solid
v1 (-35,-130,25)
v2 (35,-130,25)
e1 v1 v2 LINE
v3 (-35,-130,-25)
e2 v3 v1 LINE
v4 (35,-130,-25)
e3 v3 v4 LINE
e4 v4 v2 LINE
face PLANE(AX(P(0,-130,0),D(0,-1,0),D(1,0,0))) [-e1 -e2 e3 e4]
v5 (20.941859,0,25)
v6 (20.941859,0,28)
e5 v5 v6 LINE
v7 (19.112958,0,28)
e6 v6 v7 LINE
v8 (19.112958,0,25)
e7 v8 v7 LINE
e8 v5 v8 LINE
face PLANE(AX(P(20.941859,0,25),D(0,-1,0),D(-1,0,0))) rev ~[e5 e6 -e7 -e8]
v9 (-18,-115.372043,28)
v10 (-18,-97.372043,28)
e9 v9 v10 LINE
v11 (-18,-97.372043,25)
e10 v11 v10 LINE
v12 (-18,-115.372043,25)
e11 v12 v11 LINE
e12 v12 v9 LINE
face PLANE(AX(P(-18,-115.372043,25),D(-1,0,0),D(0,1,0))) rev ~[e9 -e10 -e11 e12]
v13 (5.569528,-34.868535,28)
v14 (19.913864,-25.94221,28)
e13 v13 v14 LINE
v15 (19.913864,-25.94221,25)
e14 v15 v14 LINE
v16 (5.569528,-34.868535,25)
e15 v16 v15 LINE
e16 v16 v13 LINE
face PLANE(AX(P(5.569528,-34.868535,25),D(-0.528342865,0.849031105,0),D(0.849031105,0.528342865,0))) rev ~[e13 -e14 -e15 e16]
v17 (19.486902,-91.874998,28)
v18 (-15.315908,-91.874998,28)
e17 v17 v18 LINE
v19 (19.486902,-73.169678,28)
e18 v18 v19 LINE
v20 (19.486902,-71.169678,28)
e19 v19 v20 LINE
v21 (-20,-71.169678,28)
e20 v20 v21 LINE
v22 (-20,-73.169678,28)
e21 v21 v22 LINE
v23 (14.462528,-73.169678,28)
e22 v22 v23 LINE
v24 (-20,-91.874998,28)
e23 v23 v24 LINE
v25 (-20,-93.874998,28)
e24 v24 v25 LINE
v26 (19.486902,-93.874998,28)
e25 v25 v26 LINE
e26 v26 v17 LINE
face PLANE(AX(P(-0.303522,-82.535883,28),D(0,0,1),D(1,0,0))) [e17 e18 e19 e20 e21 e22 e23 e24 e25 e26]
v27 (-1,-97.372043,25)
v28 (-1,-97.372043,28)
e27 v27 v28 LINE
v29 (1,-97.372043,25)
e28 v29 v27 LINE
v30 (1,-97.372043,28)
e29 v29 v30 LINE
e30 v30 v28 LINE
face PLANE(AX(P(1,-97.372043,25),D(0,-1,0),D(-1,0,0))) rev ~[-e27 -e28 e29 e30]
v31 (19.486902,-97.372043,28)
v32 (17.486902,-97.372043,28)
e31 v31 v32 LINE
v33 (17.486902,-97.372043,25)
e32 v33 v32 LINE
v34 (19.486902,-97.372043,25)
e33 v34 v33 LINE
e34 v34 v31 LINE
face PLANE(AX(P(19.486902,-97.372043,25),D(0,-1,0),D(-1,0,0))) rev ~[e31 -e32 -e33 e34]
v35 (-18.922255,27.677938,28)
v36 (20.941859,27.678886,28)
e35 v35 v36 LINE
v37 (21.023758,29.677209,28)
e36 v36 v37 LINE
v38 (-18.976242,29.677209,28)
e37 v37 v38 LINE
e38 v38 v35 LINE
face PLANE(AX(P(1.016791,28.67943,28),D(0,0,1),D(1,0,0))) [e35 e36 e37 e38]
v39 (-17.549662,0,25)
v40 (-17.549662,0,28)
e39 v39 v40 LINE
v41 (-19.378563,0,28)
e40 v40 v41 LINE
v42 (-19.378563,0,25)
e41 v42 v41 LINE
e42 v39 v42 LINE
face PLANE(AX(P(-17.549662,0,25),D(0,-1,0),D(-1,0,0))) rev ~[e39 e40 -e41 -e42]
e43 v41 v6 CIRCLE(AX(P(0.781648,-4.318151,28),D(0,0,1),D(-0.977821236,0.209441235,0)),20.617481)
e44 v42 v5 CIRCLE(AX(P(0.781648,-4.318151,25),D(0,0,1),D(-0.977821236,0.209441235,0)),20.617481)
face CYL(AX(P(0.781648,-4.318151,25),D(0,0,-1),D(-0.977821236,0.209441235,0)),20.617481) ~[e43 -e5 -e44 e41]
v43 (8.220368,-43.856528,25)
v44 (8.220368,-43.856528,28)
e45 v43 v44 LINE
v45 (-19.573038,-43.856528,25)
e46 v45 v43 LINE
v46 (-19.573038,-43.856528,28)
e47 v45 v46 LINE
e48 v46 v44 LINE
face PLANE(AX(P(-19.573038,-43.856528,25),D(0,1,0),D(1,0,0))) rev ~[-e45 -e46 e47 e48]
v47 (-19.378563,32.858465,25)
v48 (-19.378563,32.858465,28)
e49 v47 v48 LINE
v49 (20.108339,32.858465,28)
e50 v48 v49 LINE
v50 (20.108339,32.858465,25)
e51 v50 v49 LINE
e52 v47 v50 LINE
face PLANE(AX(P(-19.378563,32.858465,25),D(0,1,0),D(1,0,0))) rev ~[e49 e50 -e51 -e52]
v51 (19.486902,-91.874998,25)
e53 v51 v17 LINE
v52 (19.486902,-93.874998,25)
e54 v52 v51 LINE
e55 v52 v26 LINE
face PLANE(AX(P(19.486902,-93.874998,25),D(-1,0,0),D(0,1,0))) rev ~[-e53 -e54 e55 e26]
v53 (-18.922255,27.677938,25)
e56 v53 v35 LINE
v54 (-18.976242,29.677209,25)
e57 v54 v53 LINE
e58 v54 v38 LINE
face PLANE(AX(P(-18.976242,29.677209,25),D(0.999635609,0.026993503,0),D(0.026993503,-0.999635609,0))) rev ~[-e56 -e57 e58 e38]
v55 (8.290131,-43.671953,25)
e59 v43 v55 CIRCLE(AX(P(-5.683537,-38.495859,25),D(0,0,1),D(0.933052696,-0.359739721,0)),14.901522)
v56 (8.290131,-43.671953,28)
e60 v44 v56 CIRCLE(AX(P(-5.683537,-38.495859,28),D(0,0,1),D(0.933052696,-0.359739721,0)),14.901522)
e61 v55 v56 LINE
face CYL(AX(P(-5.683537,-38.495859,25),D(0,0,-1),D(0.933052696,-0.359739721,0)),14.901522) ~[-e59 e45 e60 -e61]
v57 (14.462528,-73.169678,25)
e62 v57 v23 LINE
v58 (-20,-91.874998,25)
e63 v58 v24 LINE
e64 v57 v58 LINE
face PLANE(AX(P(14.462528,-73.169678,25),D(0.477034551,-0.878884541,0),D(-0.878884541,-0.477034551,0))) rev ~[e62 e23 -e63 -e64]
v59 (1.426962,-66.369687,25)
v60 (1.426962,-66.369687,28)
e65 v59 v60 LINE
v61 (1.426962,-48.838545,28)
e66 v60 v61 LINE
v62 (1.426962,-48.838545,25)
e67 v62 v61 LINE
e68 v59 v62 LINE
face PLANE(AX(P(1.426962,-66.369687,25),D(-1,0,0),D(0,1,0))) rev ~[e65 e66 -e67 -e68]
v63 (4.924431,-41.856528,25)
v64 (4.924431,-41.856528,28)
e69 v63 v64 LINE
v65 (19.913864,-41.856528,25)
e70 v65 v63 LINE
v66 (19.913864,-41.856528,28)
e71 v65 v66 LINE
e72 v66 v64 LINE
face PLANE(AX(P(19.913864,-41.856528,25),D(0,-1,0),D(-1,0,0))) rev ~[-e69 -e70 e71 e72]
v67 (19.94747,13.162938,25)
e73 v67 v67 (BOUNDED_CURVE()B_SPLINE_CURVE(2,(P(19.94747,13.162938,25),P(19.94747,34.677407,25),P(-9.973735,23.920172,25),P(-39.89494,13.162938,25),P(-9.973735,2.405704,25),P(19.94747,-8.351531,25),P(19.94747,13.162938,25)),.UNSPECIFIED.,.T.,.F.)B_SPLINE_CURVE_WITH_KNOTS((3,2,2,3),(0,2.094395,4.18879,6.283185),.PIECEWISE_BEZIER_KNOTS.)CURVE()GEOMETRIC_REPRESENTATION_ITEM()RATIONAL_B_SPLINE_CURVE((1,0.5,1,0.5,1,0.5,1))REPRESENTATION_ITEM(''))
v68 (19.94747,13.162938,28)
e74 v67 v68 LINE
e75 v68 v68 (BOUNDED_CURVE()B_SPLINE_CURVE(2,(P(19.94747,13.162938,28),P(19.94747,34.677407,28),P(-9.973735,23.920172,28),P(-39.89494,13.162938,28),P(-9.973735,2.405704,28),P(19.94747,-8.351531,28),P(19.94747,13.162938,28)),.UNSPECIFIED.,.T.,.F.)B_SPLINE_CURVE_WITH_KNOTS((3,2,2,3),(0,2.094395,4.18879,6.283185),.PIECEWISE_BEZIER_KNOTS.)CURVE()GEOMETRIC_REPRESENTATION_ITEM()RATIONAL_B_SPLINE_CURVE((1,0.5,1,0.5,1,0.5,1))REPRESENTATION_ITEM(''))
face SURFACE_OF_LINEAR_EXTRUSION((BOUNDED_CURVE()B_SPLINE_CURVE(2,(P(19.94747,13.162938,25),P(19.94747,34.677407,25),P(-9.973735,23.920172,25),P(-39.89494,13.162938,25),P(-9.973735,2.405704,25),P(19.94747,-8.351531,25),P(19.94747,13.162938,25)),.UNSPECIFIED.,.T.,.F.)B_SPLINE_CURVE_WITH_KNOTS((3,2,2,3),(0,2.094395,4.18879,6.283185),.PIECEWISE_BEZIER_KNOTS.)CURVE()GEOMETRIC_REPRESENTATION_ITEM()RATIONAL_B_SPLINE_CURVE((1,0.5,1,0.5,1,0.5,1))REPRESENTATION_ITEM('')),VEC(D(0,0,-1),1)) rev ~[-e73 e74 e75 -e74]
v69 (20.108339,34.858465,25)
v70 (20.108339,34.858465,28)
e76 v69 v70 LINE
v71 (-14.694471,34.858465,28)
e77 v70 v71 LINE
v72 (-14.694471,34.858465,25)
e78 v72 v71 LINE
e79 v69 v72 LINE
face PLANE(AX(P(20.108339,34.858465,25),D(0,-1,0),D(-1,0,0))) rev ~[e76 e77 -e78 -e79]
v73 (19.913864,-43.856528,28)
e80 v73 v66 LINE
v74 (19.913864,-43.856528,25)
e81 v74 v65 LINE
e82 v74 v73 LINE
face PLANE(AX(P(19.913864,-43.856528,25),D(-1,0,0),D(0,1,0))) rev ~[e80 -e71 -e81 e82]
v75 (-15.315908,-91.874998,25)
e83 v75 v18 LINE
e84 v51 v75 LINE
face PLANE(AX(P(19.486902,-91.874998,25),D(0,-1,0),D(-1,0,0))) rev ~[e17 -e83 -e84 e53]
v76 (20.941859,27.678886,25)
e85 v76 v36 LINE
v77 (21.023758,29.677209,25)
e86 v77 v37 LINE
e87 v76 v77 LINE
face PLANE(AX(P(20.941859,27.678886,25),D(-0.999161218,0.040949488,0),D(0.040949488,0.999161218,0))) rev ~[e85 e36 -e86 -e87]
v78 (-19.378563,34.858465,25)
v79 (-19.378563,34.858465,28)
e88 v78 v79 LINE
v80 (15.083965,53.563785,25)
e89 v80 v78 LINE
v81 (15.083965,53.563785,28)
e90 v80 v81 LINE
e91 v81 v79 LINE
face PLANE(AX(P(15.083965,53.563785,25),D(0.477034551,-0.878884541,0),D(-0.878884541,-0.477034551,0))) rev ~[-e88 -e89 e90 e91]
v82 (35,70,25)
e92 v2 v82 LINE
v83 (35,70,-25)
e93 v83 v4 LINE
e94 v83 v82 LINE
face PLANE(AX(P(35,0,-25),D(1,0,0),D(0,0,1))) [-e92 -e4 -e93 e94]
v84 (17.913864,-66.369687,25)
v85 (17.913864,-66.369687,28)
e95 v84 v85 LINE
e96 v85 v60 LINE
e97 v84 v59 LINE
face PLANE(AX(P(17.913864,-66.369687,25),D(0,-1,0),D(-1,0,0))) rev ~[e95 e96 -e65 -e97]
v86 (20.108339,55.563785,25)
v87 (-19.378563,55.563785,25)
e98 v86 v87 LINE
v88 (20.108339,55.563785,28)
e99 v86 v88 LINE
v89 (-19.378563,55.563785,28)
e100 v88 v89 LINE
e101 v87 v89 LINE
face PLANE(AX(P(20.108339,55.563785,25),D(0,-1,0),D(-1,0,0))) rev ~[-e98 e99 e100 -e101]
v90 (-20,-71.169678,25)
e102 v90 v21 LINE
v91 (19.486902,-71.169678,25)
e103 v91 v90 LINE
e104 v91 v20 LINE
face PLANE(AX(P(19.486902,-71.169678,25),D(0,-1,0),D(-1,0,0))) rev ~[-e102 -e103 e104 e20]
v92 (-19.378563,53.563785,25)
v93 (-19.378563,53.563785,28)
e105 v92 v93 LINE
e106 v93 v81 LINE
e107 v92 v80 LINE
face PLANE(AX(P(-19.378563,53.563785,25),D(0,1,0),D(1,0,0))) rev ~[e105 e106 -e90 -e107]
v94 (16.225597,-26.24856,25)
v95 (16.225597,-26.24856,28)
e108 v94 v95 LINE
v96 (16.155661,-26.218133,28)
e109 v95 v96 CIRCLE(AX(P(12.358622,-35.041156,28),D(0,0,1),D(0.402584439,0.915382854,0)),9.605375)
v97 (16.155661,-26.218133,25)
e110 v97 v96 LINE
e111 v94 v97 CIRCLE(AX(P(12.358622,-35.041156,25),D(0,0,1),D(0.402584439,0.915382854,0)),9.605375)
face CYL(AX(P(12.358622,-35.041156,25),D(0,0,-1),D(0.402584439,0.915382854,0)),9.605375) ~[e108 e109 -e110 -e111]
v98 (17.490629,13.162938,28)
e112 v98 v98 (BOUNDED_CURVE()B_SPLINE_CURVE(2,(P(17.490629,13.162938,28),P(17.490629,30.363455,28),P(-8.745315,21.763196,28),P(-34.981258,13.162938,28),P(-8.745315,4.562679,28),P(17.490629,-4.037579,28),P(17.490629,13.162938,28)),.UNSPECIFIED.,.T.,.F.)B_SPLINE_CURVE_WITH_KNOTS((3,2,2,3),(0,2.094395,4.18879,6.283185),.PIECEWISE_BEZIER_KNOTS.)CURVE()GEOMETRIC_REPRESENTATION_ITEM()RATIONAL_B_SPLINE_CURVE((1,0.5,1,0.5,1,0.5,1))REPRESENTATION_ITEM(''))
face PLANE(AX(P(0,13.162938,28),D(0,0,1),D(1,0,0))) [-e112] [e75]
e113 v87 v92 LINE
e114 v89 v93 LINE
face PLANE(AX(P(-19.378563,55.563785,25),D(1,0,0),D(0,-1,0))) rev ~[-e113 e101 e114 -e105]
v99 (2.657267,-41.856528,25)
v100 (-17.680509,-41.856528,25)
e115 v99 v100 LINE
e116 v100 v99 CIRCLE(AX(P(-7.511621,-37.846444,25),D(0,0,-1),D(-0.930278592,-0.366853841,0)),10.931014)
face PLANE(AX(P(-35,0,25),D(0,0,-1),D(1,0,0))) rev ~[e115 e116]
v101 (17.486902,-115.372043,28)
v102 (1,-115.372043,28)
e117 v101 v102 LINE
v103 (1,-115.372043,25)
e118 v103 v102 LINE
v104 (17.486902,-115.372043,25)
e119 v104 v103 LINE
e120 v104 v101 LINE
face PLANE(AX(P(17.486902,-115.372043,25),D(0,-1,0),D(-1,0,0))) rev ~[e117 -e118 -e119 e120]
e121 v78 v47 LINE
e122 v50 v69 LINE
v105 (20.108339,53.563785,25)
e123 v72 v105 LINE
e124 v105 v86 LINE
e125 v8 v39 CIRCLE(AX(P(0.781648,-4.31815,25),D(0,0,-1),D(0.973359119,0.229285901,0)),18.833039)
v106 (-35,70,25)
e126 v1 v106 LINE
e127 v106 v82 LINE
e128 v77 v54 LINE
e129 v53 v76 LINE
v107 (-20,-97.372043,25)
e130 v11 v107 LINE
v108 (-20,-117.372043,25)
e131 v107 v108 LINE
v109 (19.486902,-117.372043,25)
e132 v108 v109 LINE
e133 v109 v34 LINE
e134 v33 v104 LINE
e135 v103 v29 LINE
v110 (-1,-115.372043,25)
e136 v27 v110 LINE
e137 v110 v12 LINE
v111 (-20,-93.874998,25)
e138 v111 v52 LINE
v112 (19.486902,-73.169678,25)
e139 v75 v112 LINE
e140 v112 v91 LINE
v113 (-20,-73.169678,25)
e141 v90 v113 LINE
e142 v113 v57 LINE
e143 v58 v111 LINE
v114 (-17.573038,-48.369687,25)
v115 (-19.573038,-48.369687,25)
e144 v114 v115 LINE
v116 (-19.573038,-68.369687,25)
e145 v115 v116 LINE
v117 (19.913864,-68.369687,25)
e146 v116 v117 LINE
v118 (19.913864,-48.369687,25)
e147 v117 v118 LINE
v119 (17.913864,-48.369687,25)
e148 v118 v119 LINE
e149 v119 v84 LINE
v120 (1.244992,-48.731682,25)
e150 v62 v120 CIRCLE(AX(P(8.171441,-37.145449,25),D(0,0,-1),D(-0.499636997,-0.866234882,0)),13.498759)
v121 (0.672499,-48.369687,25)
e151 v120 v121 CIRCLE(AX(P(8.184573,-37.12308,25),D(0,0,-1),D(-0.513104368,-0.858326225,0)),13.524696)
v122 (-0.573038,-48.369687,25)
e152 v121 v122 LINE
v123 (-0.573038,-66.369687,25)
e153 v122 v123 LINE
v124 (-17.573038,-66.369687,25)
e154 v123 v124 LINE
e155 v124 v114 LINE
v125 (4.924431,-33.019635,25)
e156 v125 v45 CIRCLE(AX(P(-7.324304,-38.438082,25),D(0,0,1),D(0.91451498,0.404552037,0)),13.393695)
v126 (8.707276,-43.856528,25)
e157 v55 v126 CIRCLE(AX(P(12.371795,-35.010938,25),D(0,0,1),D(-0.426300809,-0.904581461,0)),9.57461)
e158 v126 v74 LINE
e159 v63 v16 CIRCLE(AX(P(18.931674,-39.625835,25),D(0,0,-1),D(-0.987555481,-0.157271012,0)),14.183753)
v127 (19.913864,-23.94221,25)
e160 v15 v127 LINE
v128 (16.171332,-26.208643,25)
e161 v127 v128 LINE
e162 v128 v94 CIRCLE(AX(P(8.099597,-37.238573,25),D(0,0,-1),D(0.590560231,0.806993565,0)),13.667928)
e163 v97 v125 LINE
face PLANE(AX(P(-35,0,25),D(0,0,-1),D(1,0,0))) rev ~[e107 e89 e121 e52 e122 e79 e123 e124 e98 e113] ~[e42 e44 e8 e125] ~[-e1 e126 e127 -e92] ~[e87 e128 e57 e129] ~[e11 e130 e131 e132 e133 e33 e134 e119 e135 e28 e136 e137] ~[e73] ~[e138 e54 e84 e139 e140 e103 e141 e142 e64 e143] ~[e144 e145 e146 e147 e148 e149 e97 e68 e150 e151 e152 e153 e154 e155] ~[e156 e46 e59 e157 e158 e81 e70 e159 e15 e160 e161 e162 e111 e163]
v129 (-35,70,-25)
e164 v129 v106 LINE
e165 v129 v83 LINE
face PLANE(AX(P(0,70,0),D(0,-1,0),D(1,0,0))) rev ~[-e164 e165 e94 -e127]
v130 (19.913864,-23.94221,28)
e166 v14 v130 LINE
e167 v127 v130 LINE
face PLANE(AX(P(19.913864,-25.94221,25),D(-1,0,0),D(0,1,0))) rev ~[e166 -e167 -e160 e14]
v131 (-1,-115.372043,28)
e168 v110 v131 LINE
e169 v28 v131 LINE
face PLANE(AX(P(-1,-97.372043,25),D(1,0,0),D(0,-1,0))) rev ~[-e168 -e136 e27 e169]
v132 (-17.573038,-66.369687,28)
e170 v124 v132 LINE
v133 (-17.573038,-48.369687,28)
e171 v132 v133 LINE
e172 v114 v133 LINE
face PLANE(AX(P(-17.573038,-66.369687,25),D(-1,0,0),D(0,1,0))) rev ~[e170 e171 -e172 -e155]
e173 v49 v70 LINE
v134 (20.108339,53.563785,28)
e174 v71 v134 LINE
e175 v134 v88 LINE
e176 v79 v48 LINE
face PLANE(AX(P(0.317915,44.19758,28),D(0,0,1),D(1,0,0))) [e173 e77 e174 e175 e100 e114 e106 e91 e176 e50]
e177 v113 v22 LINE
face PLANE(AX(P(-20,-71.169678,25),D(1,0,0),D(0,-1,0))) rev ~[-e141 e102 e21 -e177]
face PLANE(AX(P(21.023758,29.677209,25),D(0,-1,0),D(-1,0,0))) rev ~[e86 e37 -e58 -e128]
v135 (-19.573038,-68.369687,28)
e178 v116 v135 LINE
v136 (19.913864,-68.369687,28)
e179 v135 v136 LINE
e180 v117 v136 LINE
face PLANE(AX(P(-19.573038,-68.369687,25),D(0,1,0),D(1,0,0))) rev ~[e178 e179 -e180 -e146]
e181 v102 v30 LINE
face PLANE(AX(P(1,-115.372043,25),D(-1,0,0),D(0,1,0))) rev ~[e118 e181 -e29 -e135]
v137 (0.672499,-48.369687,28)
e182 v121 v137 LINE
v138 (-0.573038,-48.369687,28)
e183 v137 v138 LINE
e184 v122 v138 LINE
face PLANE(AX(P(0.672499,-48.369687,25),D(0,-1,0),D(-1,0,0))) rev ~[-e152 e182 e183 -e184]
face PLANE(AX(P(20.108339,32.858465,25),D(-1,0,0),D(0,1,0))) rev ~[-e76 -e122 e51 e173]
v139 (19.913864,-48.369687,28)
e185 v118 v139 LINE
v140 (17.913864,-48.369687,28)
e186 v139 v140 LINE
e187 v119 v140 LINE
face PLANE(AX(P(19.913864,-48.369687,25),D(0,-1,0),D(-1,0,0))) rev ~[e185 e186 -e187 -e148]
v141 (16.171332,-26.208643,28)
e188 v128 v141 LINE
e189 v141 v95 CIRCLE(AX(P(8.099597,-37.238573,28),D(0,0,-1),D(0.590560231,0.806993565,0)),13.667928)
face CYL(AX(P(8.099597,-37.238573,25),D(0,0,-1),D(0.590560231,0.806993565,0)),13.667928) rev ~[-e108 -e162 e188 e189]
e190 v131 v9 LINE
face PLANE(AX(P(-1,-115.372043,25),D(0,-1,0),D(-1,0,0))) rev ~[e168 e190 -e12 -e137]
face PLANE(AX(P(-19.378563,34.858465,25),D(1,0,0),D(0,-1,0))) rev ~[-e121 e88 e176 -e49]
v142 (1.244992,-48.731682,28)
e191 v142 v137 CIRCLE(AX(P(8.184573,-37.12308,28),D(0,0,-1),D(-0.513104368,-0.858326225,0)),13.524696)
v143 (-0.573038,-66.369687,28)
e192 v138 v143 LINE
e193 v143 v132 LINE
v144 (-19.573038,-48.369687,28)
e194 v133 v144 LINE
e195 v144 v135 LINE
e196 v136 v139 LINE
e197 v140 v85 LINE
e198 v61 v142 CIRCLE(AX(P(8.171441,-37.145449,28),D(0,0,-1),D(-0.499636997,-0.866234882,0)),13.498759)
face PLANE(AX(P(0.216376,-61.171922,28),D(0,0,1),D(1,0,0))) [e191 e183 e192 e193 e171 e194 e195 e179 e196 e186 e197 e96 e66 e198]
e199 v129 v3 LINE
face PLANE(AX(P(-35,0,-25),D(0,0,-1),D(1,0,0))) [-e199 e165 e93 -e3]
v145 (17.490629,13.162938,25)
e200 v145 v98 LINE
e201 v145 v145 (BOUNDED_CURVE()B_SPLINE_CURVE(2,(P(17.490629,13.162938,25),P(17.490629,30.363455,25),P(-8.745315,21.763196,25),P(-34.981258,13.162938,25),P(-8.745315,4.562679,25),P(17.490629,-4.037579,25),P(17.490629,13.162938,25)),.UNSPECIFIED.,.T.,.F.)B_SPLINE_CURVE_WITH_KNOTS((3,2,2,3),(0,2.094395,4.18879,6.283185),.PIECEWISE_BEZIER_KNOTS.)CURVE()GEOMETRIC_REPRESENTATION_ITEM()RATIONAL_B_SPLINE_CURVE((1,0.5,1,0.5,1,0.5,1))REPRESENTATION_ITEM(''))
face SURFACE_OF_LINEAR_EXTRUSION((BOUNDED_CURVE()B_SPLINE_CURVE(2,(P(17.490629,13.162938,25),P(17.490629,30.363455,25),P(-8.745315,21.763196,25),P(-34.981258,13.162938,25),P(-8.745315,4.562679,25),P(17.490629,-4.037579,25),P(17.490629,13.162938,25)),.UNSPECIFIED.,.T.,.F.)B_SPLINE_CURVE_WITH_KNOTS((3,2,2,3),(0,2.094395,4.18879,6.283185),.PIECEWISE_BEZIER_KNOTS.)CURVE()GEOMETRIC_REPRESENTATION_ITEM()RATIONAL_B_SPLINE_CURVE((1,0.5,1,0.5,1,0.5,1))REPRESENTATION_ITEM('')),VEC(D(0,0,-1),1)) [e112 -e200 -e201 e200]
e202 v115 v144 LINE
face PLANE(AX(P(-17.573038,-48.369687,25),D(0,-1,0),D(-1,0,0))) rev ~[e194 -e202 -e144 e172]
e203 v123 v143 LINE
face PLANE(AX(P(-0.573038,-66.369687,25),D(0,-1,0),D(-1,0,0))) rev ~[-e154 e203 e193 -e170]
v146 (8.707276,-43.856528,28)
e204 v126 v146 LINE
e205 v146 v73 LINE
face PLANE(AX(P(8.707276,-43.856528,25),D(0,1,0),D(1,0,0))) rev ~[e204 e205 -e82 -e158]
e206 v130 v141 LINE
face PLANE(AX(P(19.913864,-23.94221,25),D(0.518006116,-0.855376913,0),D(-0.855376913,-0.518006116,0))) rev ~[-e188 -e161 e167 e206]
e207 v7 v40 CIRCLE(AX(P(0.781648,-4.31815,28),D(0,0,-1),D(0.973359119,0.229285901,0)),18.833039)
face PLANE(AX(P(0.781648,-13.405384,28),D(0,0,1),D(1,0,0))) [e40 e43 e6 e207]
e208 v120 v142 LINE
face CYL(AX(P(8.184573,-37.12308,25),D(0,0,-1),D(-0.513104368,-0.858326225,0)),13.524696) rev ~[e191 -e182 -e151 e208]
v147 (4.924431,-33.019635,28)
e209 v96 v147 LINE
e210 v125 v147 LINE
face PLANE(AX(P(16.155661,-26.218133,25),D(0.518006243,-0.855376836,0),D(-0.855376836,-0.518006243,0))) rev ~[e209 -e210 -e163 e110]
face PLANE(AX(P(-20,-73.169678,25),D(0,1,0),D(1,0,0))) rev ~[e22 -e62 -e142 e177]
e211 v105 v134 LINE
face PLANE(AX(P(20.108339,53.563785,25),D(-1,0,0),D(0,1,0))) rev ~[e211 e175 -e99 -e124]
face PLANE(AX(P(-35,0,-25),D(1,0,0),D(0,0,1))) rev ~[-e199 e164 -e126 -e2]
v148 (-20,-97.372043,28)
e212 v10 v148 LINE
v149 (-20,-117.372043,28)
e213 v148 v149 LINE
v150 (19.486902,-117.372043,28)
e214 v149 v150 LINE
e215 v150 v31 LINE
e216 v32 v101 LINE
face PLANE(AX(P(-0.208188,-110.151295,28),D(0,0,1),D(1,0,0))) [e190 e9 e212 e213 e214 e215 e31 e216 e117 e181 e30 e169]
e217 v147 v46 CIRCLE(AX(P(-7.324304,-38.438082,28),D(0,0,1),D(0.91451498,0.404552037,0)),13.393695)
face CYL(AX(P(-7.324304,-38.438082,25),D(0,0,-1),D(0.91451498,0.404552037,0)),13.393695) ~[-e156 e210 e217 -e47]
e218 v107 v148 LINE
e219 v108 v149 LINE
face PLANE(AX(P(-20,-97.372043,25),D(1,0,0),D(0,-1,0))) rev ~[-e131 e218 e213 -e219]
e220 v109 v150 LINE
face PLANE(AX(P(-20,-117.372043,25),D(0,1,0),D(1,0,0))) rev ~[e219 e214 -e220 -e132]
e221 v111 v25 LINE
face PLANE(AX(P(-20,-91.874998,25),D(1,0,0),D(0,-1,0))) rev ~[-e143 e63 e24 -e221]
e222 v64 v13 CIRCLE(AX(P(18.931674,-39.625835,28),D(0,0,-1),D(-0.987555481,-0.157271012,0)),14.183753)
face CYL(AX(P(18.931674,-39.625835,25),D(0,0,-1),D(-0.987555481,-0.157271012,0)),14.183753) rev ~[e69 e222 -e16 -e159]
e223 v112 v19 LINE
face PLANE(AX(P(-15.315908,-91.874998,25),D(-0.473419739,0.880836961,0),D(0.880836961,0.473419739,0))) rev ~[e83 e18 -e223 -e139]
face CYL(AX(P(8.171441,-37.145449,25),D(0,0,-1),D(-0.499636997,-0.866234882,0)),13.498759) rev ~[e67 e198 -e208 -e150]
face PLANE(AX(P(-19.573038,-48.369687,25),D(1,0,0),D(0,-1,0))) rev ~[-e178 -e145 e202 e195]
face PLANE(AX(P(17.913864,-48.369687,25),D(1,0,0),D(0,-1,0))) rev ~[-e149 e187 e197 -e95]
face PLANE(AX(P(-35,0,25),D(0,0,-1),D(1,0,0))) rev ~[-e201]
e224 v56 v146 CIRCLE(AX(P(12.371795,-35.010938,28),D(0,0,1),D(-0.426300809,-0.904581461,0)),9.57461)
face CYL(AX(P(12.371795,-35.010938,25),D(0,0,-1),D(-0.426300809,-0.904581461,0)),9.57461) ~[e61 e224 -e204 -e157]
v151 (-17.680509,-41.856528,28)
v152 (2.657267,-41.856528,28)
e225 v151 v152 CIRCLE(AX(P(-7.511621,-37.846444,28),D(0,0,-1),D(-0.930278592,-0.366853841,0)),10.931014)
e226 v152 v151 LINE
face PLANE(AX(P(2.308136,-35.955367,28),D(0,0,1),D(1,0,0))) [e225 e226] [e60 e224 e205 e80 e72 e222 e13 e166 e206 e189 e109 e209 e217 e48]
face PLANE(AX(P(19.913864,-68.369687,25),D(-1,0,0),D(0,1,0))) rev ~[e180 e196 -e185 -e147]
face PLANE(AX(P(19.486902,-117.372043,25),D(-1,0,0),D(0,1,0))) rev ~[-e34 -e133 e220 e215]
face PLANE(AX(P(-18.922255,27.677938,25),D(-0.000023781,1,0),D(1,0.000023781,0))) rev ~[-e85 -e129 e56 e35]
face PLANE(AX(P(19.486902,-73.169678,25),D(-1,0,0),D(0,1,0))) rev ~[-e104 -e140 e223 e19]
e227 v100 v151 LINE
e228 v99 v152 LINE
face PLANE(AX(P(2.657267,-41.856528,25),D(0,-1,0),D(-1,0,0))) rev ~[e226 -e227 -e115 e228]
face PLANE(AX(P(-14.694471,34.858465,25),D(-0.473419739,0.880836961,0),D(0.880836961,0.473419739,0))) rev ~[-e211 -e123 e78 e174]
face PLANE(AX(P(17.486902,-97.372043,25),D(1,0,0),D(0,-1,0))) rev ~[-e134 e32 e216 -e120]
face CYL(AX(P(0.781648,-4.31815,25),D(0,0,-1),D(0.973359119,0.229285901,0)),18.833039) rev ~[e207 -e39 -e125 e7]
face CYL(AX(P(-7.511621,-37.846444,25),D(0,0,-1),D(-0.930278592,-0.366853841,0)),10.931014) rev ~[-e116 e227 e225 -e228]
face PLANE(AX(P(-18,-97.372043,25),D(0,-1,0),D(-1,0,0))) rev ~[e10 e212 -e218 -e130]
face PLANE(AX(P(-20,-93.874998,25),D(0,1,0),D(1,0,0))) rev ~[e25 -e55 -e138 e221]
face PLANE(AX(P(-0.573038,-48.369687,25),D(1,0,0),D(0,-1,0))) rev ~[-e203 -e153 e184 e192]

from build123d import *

# Parameters (mm, degrees)
F0_W          = 70
F0_H          = 50
F1_DEPTH      = 130
F1_DEPTH_BACK = 70
F3_DEPTH      = 3


with BuildPart() as f1:
    # F0 (on Front) → F1 (new body, two sides)
    with BuildSketch(Plane.XZ) as f1_sk:
        Rectangle(F0_W, F0_H)
    extrude(amount=F1_DEPTH)
    extrude(f1_sk.sketch, amount=-F1_DEPTH_BACK)

    # F2 (on face) → F3 (join)
    with BuildSketch(Plane.XY.offset(25)):
        Polygon((-20, -117.372043), (0, -117.372043), (19.486902, -117.372043), (19.486902, -97.372043), (17.486902, -97.372043), (17.486902, -115.372043), (1, -115.372043), (1, -97.372043), (-1, -97.372043), (-1, -115.372043), (-18, -115.372043), (-18, -97.372043), (-20, -97.372043), align=None)
        with BuildLine():
            Line((8.707276, -43.856528), (19.913864, -43.856528))
            Line((19.913864, -43.856528), (19.913864, -41.856528))
            Line((19.913864, -41.856528), (4.924431, -41.856528))
            ThreePointArc((4.924431, -41.856528), (4.807975, -38.322004), (5.569528, -34.868535))
            Line((5.569528, -34.868535), (19.913864, -25.94221))
            Line((19.913864, -25.94221), (19.913864, -23.94221))
            Line((19.913864, -23.94221), (16.171332, -26.208643))
            ThreePointArc((16.171332, -26.208643), (16.198489, -26.228568), (16.225597, -26.24856))
            ThreePointArc((16.225597, -26.24856), (16.190659, -26.233277), (16.155661, -26.218133))
            Line((16.155661, -26.218133), (4.924431, -33.019635))
            ThreePointArc((4.924431, -33.019635), (-12.74275, -26.189347), (-19.573038, -43.856528))
            Line((-19.573038, -43.856528), (8.220368, -43.856528))
            ThreePointArc((8.220368, -43.856528), (8.255555, -43.764356), (8.290131, -43.671953))
            ThreePointArc((8.290131, -43.671953), (8.497604, -43.766725), (8.707276, -43.856528))
        make_face()
        with BuildLine():
            ThreePointArc((-17.680509, -41.856528), (-7.511621, -26.91543), (2.657267, -41.856528))
            Line((2.657267, -41.856528), (-17.680509, -41.856528))
        make_face(mode=Mode.SUBTRACT)
        with BuildLine():
            Line((-17.549662, 0), (-19.378563, 0))
            ThreePointArc((-19.378563, 0), (0.781648, -24.935632), (20.941859, 0))
            Line((20.941859, 0), (19.112958, 0))
            ThreePointArc((19.112958, 0), (0.781648, -23.151189), (-17.549662, 0))
        make_face()
        with BuildLine():
            Line((-19.573038, -68.369687), (0.426962, -68.369687))
            Line((0.426962, -68.369687), (19.913864, -68.369687))
            Line((19.913864, -68.369687), (19.913864, -48.369687))
            Line((19.913864, -48.369687), (17.913864, -48.369687))
            Line((17.913864, -48.369687), (17.913864, -66.369687))
            Line((17.913864, -66.369687), (1.426962, -66.369687))
            Line((1.426962, -66.369687), (1.426962, -48.838545))
            ThreePointArc((1.426962, -48.838545), (1.335768, -48.785469), (1.244992, -48.731682))
            ThreePointArc((1.244992, -48.731682), (0.956479, -48.554269), (0.672499, -48.369687))
            Line((0.672499, -48.369687), (-0.573038, -48.369687))
            Line((-0.573038, -48.369687), (-0.573038, -66.369687))
            Line((-0.573038, -66.369687), (-17.573038, -66.369687))
            Line((-17.573038, -66.369687), (-17.573038, -48.369687))
            Line((-17.573038, -48.369687), (-19.573038, -48.369687))
            Line((-19.573038, -48.369687), (-19.573038, -68.369687))
        make_face()
        Polygon((-20, -91.874998), (-20, -93.874998), (19.486902, -93.874998), (19.486902, -91.874998), (-15.315908, -91.874998), (19.486902, -73.169678), (19.486902, -71.169678), (-20, -71.169678), (-20, -73.169678), (14.462528, -73.169678), align=None)
        with BuildLine():
            add(Edge.make_bspline(
                [(19.94747, 13.162938), (19.94747, 34.677407), (-9.973735, 23.920172), (-39.89494, 13.162938), (-9.973735, 2.405704), (19.94747, -8.351531), (19.94747, 13.162938)],
                knots=[0, 0, 0, 2.094395, 2.094395, 4.18879, 4.18879, 6.283185, 6.283185, 6.283185], degree=2, weights=[1, 0.5, 1, 0.5, 1, 0.5, 1]))
        make_face()
        with BuildLine():
            add(Edge.make_bspline(
                [(17.490629, 13.162938), (17.490629, 30.363455), (-8.745315, 21.763196), (-34.981258, 13.162938), (-8.745315, 4.562679), (17.490629, -4.037579), (17.490629, 13.162938)],
                knots=[0, 0, 0, 2.094395, 2.094395, 4.18879, 4.18879, 6.283185, 6.283185, 6.283185], degree=2, weights=[1, 0.5, 1, 0.5, 1, 0.5, 1]))
        make_face(mode=Mode.SUBTRACT)
        Polygon((-18.922255, 27.677938), (20.941859, 27.678886), (21.023758, 29.677209), (-18.976242, 29.677209), align=None)
        Polygon((-19.378563, 34.858465), (-19.378563, 32.858465), (20.108339, 32.858465), (20.108339, 34.858465), (-14.694471, 34.858465), (20.108339, 53.563785), (20.108339, 55.563785), (-19.378563, 55.563785), (-19.378563, 53.563785), (15.083965, 53.563785), align=None)
    extrude(amount=F3_DEPTH)


solid = f1.part
